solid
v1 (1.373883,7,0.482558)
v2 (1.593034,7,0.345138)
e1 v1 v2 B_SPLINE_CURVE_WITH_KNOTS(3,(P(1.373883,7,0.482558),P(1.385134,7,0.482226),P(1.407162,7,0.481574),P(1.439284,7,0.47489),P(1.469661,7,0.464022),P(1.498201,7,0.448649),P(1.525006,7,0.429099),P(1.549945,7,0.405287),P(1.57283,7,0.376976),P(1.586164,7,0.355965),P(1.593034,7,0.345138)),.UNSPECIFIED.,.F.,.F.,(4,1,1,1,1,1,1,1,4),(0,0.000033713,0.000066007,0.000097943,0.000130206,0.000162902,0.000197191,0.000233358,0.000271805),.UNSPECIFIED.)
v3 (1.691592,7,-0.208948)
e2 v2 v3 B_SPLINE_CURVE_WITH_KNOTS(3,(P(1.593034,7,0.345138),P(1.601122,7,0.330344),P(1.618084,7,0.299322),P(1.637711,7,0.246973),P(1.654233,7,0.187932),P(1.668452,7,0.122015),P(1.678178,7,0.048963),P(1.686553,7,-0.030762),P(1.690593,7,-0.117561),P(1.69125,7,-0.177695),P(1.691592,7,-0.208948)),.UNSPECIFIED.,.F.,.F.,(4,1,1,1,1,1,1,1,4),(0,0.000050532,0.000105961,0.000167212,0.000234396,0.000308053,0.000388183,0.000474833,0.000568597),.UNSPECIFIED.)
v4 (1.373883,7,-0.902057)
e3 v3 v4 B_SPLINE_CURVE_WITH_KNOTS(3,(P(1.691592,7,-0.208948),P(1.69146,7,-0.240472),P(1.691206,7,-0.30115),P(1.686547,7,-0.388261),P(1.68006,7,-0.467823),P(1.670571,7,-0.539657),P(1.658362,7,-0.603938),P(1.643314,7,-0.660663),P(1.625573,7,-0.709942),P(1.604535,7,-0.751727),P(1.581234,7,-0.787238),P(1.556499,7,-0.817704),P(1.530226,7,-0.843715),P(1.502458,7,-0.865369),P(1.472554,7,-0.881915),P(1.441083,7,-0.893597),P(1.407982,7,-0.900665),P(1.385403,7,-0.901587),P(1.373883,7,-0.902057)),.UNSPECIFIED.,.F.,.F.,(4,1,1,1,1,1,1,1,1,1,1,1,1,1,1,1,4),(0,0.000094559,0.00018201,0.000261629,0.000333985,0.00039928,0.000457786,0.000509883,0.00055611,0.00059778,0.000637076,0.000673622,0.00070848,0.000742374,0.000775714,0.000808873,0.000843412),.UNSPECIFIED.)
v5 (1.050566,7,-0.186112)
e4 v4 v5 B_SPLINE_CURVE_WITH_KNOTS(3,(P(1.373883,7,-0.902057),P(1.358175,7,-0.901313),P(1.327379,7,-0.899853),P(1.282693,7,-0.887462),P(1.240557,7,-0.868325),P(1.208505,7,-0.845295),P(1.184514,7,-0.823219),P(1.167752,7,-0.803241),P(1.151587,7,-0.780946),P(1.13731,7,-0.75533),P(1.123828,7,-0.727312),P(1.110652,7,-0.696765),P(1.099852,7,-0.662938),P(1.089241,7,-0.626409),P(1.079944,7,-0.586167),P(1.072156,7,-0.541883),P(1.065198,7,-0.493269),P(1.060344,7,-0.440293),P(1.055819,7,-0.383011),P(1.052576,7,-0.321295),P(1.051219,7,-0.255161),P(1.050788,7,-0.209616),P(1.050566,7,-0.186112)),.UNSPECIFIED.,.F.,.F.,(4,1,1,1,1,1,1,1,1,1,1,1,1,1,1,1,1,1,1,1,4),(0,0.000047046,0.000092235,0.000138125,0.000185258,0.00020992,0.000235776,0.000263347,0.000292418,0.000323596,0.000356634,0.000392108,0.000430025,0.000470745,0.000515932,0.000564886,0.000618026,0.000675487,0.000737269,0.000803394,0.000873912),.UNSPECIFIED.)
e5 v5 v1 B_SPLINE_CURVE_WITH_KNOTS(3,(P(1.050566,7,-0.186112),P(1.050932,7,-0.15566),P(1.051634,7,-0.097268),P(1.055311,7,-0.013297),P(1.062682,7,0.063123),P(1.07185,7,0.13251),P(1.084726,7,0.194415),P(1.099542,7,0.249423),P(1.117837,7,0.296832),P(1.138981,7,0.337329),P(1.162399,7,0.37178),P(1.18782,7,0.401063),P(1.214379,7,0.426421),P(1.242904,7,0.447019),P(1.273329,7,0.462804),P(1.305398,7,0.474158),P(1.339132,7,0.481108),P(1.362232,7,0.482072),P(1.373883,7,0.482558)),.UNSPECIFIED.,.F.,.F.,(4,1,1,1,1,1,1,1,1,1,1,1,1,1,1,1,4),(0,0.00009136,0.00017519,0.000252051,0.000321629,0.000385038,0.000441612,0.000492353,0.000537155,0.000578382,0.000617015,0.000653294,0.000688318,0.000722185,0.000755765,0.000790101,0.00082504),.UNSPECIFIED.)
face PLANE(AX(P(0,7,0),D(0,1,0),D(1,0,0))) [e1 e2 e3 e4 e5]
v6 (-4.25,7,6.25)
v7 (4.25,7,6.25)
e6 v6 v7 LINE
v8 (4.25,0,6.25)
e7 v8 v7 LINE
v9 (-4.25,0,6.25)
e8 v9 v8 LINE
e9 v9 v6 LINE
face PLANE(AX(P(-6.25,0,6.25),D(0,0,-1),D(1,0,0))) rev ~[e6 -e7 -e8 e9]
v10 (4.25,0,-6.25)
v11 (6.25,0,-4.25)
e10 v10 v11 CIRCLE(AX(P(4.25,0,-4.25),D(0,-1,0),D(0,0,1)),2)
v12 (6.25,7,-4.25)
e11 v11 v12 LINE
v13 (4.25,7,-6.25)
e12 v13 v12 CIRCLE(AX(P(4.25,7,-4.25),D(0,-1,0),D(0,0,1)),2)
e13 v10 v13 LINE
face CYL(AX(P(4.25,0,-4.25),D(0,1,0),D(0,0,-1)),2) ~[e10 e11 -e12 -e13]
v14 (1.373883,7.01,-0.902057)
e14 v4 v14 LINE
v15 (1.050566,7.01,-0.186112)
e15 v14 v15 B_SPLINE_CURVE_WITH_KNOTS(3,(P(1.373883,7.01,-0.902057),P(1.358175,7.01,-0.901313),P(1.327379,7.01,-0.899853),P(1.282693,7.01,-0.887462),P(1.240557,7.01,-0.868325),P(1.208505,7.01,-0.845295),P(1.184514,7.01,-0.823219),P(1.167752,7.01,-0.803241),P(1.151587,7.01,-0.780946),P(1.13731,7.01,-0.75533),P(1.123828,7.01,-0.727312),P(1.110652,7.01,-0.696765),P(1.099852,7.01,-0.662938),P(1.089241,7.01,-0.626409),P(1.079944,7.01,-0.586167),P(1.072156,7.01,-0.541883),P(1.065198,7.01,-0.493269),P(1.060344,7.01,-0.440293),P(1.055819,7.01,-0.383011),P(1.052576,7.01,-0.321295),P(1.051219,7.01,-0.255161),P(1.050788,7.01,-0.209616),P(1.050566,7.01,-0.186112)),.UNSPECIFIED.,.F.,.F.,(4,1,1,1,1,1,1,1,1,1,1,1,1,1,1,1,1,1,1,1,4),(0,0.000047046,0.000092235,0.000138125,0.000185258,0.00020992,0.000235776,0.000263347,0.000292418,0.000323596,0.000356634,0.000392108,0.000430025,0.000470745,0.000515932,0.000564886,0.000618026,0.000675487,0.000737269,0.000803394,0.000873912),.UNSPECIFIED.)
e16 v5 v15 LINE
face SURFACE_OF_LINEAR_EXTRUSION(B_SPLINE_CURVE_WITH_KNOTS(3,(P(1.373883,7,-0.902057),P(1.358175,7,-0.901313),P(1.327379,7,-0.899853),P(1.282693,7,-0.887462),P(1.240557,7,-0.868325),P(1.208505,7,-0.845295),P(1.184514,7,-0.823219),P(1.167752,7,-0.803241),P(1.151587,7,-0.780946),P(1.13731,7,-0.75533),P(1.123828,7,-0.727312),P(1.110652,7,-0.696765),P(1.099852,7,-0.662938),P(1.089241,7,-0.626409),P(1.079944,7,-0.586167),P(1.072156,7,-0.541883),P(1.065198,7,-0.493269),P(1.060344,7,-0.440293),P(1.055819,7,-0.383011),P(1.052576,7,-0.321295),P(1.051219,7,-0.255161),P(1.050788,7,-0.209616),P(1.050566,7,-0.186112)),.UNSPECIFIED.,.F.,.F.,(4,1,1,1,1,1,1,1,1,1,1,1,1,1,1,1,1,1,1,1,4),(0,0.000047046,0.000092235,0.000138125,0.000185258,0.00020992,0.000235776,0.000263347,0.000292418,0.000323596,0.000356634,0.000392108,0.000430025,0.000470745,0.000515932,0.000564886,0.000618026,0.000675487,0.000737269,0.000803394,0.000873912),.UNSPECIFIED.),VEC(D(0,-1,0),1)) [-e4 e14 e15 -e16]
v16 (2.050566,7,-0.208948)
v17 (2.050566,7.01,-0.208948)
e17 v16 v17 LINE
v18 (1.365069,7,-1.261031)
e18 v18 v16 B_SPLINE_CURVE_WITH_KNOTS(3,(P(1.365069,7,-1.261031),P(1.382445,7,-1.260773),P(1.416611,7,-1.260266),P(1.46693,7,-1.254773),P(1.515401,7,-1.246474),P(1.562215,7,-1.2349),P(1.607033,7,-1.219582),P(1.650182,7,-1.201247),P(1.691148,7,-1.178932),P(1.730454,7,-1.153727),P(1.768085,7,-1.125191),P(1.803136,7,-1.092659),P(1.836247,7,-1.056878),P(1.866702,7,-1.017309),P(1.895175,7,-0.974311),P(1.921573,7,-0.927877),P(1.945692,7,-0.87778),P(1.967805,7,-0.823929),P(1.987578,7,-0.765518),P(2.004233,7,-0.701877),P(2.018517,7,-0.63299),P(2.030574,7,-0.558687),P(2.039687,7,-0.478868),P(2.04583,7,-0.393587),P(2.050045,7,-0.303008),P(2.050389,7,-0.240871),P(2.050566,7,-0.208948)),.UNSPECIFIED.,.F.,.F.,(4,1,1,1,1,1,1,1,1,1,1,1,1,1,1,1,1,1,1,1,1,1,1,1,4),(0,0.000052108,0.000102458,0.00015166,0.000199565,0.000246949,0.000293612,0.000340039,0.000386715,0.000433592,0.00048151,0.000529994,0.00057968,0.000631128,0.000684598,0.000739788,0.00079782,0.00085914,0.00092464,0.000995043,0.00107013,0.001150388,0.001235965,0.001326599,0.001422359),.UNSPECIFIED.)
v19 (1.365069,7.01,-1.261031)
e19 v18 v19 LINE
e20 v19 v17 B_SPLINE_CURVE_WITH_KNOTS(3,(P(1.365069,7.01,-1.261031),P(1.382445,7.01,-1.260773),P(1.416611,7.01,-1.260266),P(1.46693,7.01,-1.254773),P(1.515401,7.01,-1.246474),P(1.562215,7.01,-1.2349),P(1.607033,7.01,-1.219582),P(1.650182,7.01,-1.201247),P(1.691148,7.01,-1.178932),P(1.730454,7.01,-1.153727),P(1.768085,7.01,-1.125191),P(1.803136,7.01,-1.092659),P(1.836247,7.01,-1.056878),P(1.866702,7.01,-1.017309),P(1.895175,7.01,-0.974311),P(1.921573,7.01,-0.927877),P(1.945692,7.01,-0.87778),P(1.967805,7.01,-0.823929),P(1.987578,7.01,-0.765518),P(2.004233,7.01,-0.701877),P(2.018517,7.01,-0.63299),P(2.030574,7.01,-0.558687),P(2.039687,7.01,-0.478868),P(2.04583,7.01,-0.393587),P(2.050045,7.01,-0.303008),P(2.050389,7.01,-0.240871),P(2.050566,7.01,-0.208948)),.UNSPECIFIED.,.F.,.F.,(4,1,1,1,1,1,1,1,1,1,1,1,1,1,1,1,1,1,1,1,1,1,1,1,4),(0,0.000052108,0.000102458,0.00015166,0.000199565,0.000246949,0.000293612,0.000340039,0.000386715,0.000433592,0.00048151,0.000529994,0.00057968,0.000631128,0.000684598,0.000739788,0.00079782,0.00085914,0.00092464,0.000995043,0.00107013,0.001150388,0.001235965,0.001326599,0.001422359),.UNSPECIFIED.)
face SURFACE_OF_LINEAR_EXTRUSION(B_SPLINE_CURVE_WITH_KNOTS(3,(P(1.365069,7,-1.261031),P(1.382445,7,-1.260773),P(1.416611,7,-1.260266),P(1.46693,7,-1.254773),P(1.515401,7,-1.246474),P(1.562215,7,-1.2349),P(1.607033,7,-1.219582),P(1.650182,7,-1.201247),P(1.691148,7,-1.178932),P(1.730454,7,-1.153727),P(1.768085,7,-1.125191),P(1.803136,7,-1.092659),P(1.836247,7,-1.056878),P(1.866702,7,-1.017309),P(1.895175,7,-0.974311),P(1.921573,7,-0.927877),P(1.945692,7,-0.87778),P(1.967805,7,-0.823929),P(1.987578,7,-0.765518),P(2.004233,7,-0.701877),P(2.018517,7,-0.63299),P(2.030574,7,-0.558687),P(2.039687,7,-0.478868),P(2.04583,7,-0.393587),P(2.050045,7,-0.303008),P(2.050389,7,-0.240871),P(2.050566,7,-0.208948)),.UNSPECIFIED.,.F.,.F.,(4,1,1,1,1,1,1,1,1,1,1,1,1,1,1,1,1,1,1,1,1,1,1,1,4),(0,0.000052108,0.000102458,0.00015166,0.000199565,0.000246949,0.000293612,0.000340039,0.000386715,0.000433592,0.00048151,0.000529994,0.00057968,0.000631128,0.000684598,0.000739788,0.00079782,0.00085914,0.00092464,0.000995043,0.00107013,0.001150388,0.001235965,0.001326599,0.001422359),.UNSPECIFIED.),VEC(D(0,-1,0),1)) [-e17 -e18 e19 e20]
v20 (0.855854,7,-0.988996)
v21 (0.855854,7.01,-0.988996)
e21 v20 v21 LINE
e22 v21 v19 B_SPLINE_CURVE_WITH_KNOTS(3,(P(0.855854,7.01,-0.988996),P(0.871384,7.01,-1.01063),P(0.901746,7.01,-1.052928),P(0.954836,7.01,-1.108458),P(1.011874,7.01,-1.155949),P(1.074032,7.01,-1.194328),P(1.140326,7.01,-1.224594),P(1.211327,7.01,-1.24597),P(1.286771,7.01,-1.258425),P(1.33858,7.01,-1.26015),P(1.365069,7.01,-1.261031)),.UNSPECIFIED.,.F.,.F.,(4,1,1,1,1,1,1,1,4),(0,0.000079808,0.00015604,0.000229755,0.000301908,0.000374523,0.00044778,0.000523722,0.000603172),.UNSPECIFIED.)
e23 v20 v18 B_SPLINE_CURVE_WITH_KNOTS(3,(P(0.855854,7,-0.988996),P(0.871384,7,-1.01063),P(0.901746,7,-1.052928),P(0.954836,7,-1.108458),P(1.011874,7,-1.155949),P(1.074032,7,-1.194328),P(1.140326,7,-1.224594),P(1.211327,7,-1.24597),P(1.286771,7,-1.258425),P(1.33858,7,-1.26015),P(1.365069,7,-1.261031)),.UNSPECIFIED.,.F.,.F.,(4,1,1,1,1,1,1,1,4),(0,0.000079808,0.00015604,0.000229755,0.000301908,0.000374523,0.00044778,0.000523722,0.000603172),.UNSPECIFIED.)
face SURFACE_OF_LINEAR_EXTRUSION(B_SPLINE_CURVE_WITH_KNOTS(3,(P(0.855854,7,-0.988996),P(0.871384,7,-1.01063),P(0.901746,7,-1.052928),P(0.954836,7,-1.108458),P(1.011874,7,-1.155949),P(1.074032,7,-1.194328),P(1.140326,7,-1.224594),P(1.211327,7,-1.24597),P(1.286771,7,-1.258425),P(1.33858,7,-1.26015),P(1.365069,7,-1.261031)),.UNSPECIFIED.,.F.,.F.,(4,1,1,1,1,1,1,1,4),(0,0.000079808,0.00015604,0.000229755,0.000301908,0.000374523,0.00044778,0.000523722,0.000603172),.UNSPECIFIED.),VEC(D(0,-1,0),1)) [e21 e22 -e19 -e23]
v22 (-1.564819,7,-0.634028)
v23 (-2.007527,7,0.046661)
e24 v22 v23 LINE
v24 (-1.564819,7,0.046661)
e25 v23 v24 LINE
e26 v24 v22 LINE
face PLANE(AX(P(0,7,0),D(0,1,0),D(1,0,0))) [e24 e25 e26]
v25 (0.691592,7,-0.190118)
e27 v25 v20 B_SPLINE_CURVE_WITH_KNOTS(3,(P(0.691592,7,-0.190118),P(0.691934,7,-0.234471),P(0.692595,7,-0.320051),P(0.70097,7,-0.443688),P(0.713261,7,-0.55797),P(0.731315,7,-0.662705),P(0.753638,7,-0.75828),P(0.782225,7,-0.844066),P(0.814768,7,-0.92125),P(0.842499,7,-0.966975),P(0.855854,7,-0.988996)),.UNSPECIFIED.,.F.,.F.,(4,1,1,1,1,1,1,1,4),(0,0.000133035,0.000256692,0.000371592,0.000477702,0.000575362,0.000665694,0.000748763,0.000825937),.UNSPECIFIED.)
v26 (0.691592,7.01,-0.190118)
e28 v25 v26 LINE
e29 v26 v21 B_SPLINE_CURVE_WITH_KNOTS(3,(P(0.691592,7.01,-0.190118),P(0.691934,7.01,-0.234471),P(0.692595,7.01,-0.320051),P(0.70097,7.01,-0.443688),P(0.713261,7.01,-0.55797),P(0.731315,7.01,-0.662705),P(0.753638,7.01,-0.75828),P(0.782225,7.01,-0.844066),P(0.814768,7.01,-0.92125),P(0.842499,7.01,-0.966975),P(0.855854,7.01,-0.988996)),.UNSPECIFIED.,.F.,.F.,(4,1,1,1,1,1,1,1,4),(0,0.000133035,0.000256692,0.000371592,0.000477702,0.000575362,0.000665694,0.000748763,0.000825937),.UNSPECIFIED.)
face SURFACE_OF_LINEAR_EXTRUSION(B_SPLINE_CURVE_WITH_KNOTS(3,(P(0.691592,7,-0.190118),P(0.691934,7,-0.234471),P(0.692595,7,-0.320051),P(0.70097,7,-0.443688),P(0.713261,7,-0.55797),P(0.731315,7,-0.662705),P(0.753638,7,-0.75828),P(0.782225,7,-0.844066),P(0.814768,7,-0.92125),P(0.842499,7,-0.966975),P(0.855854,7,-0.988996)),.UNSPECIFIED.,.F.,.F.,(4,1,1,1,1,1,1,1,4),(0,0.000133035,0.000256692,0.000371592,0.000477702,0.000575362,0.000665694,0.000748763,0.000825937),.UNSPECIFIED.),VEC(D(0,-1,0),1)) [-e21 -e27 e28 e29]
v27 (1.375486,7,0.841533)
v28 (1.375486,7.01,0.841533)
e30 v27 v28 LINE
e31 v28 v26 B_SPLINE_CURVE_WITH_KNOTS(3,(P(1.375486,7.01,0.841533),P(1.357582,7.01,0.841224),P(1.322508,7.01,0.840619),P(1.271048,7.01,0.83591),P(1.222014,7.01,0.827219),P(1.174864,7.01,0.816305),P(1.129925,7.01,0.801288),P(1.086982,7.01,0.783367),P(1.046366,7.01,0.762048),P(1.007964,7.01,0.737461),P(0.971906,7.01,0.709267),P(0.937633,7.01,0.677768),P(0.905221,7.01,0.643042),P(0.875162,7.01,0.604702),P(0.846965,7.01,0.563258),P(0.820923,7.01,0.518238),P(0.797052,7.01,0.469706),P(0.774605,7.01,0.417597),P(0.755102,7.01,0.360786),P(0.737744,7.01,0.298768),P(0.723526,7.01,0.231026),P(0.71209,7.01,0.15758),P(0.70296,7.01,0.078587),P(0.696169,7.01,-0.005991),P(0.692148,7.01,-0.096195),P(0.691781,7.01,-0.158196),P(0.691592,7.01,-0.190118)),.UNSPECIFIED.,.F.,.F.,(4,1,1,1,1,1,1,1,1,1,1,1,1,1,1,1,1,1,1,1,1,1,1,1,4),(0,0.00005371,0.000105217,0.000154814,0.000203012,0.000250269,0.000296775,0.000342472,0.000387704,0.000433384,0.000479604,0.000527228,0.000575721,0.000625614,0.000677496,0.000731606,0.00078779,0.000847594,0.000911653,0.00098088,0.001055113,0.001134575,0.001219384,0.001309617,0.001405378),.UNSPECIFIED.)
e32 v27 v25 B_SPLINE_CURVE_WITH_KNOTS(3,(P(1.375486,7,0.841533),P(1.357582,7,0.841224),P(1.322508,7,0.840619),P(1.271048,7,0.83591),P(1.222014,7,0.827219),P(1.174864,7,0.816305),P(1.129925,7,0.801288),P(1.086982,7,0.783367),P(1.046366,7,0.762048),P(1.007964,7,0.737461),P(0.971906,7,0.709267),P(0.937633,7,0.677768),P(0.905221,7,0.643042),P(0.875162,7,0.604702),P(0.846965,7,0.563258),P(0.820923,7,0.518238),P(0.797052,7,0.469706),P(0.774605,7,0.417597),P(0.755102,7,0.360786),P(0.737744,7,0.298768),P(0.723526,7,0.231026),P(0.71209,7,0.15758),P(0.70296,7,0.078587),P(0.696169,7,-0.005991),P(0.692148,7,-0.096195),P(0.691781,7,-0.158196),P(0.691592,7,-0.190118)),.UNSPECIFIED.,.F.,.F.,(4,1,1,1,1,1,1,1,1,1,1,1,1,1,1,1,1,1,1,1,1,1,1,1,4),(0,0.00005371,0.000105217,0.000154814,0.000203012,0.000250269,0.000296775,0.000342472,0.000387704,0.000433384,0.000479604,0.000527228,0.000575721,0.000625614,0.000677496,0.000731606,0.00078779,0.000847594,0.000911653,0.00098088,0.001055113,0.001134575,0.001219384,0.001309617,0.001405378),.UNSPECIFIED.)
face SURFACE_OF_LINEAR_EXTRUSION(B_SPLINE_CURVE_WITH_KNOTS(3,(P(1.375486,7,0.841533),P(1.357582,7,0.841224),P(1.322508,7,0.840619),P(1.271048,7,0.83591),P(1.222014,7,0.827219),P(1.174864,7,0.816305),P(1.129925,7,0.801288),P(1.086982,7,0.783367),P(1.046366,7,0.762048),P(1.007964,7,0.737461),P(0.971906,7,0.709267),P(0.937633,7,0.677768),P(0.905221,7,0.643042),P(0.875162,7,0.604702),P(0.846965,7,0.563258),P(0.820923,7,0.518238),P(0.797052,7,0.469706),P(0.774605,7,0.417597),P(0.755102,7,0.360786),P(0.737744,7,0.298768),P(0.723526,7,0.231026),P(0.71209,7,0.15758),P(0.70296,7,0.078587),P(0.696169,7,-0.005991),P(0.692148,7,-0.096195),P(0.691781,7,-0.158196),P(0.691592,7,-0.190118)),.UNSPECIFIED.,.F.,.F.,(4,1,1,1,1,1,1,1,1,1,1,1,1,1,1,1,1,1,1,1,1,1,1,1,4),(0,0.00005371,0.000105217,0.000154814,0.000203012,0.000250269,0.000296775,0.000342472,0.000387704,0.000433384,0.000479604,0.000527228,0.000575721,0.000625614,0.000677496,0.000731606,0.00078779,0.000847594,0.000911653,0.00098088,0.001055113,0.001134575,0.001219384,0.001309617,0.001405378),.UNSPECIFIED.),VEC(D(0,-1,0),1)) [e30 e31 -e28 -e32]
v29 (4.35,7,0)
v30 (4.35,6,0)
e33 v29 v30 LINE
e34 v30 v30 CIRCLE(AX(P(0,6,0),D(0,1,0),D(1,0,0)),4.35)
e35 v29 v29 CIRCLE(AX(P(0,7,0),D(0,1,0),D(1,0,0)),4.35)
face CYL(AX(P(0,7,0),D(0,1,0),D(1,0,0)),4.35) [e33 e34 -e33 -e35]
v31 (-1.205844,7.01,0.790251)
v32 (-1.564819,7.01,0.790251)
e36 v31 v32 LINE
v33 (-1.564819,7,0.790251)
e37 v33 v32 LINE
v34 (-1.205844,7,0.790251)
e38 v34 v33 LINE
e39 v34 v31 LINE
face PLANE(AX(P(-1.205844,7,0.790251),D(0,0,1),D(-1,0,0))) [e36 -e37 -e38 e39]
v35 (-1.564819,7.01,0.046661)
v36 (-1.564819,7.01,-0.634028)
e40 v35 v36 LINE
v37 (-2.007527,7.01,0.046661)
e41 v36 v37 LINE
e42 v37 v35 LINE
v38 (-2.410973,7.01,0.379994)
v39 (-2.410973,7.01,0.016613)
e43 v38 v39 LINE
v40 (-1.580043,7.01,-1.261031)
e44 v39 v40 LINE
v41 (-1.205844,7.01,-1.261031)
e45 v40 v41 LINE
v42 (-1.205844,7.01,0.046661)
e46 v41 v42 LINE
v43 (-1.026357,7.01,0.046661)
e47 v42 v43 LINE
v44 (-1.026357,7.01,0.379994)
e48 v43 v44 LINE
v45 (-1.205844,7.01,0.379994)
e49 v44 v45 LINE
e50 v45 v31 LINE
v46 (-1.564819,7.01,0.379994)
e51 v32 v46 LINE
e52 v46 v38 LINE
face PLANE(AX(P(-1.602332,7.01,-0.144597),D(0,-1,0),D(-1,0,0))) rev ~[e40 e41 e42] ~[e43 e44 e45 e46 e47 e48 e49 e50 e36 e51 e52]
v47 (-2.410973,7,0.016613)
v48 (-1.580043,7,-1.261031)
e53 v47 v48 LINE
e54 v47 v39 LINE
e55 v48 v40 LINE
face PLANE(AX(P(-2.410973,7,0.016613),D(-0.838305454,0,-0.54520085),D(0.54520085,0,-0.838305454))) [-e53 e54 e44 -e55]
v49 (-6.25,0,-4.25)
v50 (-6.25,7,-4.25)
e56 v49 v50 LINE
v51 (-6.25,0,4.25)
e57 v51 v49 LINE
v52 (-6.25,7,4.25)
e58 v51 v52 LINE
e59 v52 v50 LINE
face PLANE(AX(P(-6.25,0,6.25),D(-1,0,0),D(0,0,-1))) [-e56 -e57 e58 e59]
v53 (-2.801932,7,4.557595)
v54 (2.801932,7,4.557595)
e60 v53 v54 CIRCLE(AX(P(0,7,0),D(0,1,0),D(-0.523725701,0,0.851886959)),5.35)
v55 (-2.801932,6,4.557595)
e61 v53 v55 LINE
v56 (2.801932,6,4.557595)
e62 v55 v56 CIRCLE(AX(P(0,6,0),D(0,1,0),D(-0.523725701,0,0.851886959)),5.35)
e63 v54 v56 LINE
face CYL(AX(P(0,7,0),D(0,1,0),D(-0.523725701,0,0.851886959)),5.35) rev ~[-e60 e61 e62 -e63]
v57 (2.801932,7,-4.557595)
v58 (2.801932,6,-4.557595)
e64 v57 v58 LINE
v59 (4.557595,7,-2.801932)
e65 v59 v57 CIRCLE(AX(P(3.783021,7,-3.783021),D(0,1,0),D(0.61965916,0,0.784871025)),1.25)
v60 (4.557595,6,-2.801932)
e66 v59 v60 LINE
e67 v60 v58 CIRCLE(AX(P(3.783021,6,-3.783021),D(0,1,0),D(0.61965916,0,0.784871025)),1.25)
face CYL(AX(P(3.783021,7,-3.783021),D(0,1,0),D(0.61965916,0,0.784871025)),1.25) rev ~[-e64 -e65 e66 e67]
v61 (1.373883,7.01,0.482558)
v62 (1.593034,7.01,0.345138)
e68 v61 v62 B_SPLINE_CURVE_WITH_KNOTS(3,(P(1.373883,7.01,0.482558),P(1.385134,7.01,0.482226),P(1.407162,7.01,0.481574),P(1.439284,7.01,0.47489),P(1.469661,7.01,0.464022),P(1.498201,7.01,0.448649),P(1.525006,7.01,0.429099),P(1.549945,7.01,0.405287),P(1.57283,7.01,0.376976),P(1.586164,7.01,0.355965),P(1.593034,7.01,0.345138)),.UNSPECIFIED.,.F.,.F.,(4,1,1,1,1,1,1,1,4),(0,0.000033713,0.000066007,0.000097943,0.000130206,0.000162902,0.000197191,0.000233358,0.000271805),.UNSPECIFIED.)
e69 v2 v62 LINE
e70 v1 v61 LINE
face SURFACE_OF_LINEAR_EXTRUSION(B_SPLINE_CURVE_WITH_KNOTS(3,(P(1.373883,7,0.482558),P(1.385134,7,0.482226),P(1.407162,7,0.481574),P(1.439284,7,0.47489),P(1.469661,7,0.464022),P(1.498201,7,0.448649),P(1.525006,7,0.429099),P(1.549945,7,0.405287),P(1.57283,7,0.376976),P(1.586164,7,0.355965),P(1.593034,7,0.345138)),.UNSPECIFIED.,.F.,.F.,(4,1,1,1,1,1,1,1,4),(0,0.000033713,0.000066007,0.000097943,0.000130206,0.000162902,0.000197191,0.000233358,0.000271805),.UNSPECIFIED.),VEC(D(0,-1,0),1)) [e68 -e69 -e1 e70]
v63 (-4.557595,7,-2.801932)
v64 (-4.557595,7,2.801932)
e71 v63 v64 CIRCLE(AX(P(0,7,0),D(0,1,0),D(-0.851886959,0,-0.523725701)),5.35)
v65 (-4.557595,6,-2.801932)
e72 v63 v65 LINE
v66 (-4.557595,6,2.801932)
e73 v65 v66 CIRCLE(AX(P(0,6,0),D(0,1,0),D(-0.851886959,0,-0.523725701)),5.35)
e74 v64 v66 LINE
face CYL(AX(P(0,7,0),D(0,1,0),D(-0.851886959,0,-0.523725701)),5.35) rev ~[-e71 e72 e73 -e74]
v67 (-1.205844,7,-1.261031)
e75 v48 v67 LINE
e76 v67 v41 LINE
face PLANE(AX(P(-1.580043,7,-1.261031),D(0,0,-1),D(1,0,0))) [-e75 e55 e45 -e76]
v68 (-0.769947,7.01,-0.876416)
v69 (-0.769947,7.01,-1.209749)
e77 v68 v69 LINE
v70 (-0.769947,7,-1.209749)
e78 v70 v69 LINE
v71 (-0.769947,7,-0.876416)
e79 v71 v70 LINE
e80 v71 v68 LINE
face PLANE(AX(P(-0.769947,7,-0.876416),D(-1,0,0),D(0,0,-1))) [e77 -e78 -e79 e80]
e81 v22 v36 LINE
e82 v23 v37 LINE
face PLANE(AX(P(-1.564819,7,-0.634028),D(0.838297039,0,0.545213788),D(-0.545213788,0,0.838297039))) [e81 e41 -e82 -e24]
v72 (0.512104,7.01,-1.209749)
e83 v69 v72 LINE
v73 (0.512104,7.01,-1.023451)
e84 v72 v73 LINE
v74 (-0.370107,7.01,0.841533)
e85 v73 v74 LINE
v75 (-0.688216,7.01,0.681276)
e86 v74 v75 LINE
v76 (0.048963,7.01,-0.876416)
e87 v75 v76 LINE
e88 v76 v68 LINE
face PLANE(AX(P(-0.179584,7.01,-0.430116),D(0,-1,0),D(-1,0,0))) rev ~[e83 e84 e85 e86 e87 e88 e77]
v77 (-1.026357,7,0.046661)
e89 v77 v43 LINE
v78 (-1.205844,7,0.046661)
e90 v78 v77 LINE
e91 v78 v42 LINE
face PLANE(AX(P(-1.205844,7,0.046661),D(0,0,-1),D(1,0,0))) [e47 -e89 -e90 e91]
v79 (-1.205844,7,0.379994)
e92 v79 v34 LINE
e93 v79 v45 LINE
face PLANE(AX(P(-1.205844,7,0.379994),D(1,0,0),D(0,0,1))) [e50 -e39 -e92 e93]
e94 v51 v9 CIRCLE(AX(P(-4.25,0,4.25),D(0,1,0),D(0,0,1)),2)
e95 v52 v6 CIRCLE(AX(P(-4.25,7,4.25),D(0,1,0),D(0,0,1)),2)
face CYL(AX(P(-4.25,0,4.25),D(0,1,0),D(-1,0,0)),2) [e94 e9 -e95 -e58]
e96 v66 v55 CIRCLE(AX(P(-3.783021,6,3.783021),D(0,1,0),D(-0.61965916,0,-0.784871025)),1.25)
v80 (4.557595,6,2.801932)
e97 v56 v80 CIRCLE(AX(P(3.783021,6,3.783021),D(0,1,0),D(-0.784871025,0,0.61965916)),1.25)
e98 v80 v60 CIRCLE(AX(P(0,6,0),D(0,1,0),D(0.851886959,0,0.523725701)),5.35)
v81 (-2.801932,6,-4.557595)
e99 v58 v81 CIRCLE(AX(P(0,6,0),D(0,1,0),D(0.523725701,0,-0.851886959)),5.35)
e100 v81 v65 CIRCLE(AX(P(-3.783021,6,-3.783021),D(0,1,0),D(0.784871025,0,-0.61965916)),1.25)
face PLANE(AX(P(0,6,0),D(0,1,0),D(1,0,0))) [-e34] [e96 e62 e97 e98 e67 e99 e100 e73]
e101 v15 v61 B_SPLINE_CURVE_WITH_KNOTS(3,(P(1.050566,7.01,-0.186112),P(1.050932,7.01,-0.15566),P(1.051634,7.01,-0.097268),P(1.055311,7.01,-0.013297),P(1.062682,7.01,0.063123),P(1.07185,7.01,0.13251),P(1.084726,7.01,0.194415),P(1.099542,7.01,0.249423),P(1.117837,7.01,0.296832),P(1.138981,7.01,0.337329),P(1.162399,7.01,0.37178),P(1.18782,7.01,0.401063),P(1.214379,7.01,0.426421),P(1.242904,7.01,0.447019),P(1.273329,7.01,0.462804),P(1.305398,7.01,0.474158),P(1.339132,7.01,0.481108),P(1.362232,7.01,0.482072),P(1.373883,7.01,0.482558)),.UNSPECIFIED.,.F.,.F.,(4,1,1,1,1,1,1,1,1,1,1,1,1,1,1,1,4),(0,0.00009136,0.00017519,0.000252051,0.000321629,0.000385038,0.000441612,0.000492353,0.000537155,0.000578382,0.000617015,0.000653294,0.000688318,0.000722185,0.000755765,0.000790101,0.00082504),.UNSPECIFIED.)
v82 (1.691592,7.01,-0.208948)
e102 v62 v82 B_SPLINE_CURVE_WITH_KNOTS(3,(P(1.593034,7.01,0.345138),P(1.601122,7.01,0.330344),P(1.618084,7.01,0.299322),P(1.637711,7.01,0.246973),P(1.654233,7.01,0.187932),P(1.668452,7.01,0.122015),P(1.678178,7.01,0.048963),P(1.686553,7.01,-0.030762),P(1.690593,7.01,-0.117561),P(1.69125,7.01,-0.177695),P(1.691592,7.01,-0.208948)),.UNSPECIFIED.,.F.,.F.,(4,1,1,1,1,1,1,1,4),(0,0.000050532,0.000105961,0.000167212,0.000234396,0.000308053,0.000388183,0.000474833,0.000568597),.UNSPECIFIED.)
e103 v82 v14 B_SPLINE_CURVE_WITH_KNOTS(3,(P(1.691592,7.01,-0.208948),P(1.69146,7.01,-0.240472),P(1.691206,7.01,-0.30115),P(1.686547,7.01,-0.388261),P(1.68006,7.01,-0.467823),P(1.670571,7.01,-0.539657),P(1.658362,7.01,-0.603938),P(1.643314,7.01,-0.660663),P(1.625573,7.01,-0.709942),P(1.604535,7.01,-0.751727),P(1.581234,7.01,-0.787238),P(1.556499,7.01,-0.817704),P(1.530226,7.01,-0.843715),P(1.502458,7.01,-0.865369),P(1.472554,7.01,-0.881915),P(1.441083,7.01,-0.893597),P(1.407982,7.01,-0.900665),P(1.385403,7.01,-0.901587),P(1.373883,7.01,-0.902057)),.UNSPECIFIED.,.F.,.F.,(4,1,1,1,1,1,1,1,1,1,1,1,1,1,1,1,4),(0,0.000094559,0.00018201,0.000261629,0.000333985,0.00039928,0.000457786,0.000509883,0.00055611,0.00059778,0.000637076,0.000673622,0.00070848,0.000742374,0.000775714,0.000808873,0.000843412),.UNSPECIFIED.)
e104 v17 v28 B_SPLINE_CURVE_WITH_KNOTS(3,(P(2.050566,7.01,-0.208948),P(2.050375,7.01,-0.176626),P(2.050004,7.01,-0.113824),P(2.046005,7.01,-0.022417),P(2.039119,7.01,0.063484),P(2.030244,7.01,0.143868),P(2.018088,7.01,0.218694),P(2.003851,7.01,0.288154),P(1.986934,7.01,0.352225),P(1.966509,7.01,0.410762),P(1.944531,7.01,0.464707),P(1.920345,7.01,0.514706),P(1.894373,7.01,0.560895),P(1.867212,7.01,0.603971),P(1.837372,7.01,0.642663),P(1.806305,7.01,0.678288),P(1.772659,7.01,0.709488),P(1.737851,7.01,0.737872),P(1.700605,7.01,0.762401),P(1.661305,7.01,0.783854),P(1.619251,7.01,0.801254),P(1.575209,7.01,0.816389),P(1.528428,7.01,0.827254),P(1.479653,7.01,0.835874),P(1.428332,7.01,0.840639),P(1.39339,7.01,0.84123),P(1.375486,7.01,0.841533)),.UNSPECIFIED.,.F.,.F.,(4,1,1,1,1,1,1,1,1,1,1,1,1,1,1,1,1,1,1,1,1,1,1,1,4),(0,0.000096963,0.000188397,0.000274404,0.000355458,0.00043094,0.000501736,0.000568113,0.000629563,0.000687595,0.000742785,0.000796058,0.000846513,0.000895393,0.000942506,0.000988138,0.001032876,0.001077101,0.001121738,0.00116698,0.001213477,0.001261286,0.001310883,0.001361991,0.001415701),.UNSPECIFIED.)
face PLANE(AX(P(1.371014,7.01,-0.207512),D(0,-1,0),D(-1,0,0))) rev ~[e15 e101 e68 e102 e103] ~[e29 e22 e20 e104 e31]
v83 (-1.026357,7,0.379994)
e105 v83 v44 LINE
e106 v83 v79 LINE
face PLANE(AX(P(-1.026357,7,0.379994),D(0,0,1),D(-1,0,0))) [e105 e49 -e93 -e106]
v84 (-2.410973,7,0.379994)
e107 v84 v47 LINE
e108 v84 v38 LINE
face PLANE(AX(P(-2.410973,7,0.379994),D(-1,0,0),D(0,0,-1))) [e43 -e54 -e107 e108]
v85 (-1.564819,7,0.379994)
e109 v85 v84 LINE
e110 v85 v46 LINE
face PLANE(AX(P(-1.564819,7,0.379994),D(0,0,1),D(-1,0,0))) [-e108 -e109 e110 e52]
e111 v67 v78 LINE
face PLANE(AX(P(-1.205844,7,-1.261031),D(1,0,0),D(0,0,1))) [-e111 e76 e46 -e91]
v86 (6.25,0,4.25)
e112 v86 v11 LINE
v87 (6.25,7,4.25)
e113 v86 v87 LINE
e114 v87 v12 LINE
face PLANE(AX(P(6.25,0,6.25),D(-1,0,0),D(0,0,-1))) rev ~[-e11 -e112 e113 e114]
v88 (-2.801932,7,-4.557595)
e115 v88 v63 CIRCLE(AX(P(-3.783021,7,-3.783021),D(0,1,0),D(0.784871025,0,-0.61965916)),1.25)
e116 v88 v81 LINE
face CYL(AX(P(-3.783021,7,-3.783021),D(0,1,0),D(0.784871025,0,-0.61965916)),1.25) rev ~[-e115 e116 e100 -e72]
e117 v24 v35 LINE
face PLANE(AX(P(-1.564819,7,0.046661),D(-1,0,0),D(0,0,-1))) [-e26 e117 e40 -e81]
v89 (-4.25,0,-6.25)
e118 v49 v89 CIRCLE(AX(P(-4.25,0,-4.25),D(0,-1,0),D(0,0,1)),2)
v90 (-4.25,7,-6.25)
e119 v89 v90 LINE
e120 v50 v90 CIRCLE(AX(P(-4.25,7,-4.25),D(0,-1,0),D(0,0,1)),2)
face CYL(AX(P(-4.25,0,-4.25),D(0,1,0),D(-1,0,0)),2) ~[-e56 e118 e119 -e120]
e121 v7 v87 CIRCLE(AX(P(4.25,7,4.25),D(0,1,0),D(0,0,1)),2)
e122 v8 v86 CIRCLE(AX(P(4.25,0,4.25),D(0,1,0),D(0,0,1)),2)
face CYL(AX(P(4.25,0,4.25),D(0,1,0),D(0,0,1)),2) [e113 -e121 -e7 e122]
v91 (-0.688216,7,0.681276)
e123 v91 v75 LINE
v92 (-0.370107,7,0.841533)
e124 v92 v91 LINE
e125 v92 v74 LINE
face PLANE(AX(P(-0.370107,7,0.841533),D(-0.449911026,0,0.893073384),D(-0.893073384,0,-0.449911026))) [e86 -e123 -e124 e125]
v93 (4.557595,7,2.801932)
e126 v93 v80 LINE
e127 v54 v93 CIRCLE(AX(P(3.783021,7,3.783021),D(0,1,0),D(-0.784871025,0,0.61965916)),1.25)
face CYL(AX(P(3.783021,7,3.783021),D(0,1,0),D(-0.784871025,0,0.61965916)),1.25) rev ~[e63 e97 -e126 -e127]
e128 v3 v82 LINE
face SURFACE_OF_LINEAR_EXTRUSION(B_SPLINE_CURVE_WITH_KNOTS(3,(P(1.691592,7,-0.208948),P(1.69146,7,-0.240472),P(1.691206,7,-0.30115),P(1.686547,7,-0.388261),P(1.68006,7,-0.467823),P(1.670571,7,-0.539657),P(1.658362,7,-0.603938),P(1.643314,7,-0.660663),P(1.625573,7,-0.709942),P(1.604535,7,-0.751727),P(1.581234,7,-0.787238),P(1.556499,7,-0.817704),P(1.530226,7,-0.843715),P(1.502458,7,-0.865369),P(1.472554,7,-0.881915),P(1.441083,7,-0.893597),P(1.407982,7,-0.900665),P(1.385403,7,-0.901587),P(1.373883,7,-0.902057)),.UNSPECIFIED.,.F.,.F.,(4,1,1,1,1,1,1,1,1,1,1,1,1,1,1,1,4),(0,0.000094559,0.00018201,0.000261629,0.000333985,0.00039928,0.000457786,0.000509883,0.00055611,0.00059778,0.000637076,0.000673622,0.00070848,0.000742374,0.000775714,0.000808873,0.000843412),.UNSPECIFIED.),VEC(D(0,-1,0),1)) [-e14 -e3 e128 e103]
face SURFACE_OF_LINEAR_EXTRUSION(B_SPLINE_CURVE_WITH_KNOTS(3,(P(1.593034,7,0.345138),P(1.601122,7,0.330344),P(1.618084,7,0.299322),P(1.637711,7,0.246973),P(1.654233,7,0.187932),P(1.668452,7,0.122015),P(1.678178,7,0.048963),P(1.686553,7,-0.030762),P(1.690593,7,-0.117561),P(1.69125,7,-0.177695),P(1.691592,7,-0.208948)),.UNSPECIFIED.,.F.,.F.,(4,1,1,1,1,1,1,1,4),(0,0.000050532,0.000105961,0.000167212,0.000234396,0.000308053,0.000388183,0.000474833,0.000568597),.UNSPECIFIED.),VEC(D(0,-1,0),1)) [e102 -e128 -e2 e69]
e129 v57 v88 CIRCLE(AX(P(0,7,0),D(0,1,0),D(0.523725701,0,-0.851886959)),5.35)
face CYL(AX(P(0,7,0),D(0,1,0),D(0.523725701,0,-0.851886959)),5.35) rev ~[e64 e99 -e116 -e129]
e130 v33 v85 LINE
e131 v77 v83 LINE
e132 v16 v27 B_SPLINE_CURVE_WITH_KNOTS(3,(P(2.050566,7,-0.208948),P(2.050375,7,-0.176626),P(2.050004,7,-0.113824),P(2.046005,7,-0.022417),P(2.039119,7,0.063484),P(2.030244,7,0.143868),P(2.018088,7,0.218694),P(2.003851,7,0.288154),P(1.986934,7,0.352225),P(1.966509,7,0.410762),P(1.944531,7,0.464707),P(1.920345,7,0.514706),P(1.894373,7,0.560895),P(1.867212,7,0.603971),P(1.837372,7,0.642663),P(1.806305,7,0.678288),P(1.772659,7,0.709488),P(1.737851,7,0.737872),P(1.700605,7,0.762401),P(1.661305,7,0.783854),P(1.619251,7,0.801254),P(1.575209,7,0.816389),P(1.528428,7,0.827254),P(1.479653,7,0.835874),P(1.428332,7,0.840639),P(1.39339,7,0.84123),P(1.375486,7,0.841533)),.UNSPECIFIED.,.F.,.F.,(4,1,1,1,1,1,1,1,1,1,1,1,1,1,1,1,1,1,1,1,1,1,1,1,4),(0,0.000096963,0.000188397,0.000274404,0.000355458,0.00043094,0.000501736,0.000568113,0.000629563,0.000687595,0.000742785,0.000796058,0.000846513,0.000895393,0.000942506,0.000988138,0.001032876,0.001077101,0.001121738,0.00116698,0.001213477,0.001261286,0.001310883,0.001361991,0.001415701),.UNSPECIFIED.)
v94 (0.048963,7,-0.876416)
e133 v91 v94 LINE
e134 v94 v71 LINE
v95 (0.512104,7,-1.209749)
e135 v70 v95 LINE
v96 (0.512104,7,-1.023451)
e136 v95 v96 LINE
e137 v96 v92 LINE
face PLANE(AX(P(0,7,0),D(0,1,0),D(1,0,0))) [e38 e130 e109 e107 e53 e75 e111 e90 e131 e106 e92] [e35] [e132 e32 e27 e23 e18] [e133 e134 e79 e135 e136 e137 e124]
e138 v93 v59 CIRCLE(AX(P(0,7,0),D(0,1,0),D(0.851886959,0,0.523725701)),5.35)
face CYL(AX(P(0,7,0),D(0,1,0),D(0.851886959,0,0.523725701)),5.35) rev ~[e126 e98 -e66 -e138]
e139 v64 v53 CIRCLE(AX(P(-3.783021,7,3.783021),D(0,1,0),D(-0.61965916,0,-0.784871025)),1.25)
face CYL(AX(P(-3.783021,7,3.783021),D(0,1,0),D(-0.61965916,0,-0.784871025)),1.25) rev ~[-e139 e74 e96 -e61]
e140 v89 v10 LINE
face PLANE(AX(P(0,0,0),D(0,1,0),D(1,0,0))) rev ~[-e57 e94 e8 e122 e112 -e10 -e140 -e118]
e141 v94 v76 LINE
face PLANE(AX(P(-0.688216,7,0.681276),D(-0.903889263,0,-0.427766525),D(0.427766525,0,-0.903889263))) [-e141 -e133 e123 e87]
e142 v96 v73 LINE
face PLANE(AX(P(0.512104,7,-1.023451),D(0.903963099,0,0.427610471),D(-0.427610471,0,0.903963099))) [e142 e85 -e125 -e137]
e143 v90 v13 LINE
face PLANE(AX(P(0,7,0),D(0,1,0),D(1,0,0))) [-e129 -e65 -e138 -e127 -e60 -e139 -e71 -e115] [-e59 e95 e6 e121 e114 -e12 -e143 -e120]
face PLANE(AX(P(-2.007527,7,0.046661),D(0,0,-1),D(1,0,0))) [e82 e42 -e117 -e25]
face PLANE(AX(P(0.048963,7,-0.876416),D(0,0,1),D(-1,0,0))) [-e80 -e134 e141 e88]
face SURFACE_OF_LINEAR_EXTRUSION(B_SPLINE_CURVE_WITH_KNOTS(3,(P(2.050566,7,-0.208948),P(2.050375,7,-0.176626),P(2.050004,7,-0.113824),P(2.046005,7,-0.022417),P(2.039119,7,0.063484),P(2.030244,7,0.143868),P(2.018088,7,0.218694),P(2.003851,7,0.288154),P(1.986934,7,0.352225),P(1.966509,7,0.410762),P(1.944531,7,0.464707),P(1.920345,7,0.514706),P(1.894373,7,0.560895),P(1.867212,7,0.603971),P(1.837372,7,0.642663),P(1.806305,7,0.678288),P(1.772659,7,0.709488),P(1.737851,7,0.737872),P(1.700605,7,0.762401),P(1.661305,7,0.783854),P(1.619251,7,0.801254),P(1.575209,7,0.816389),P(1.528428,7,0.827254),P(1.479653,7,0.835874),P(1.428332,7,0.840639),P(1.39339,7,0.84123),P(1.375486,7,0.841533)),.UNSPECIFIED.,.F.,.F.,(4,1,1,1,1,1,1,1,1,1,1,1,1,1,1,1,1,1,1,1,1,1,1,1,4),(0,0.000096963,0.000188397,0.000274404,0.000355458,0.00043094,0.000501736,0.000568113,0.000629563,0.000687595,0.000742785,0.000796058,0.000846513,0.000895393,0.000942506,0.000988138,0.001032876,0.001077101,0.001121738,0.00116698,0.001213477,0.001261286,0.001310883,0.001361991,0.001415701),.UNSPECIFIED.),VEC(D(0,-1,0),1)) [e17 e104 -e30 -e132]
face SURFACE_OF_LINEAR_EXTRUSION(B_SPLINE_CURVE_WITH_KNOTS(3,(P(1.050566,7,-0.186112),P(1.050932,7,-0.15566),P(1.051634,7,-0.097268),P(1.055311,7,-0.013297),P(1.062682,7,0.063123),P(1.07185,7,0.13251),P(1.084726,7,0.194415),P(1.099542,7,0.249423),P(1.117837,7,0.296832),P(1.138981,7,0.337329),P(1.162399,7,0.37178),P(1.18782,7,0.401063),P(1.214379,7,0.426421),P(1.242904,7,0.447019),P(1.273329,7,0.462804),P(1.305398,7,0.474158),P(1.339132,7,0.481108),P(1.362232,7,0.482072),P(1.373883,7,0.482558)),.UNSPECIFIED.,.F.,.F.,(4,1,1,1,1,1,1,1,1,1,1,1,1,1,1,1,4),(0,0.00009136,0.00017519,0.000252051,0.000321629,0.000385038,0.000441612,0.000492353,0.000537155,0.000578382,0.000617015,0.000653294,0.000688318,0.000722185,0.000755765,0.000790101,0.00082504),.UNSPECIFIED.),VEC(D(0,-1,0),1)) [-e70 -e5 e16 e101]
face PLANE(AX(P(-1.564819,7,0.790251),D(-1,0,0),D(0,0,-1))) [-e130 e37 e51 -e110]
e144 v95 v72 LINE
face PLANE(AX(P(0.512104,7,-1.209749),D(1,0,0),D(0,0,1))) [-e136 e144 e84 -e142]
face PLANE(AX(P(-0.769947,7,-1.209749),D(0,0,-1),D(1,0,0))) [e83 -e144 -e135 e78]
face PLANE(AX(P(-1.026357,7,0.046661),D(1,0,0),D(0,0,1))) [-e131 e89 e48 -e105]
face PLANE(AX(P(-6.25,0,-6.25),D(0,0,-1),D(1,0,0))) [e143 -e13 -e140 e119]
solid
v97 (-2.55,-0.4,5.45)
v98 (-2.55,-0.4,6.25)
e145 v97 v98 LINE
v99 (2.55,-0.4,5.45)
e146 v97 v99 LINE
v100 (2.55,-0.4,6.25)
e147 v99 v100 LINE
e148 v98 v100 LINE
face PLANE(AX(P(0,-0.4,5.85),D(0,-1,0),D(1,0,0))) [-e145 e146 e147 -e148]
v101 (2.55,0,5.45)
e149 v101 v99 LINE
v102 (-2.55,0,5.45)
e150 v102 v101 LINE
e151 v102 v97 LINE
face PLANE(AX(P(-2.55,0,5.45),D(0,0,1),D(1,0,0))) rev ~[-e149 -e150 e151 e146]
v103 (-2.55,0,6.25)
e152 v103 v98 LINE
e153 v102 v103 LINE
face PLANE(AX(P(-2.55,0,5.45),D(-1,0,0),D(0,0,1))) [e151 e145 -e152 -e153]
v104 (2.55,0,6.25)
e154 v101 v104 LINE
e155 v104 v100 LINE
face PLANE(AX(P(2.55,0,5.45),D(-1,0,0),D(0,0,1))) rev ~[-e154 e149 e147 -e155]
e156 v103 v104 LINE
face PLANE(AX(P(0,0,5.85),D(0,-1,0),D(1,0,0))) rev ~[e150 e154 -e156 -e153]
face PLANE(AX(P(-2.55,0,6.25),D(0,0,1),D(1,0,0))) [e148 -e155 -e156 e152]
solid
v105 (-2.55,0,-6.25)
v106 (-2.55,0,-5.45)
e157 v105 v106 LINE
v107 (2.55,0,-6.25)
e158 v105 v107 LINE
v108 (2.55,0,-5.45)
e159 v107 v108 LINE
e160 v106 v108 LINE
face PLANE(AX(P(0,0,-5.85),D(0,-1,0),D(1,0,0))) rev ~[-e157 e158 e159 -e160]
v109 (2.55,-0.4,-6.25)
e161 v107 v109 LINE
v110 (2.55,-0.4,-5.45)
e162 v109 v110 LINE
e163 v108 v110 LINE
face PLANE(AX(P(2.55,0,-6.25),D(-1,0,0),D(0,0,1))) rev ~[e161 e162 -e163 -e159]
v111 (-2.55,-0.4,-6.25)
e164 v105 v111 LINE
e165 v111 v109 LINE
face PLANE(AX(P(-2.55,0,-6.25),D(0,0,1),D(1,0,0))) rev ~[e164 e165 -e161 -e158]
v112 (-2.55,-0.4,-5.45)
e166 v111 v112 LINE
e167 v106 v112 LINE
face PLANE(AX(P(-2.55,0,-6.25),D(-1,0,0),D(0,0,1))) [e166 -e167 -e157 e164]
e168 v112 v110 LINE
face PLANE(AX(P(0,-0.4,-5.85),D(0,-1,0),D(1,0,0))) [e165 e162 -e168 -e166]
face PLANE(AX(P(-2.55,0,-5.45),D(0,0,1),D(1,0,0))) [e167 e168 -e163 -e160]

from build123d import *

# Parameters (mm, degrees)
SKETCH1_W             = 12.5
SKETCH1_H             = 12.5
BOSS_EXTRUDE1_DEPTH   = 7
SKETCH2_R             = 4.35
CUT_EXTRUDE1_DEPTH    = 1
SKETCH3_W             = 5.1
SKETCH3_H             = 0.8
BOSS_EXTRUDE2_DEPTH   = 0.4
BOSS_EXTRUDE2_2_DEPTH = 0.4
BOSS_EXTRUDE3_DEPTH   = 0.01
FILLET1_R             = 2


with BuildPart() as part:
    # Sketch1 → Boss-Extrude1 (new body)
    with BuildSketch(Plane(origin=(0, 0, 0), x_dir=(1, 0, 0), z_dir=(0, 1, 0))):
        Rectangle(SKETCH1_W, SKETCH1_H)
    extrude(amount=BOSS_EXTRUDE1_DEPTH)

    # Sketch2 → Cut-Extrude1 (cut)
    with BuildSketch(Plane(origin=(0, 7, 0), x_dir=(1, 0, 0), z_dir=(0, 1, 0))):
        with BuildLine():
            ThreePointArc((-4.557595229, 2.801932498), (-5.35, 0), (-4.557595229, -2.801932498))
            ThreePointArc((-4.557595229, -2.801932498), (-4.666904756, -4.666904756), (-2.801932498, -4.557595229))
            ThreePointArc((-2.801932498, -4.557595229), (0, -5.35), (2.801932498, -4.557595229))
            ThreePointArc((2.801932498, -4.557595229), (4.666904756, -4.666904756), (4.557595229, -2.801932498))
            ThreePointArc((4.557595229, -2.801932498), (5.35, 0), (4.557595229, 2.801932498))
            ThreePointArc((4.557595229, 2.801932498), (4.666904756, 4.666904756), (2.801932498, 4.557595229))
            ThreePointArc((2.801932498, 4.557595229), (0, 5.35), (-2.801932498, 4.557595229))
            ThreePointArc((-2.801932498, 4.557595229), (-4.666904756, 4.666904756), (-4.557595229, 2.801932498))
        make_face()
        Circle(SKETCH2_R, mode=Mode.SUBTRACT)
    extrude(amount=-CUT_EXTRUDE1_DEPTH, mode=Mode.SUBTRACT)

    # Sketch4 → Boss-Extrude3 (add)
    with BuildSketch(Plane(origin=(0, 7, 0), x_dir=(1, 0, 0), z_dir=(0, 1, 0))):
        Polygon((-1.580043076, 1.261031415), (-1.205844358, 1.261031415), (-1.205844358, -0.046660893), (-1.026357178, -0.046660893), (-1.026357178, -0.379994226), (-1.205844358, -0.379994226), (-1.205844358, -0.790250636), (-1.564818717, -0.790250636), (-1.564818717, -0.379994226), (-2.410972563, -0.379994226), (-2.410972563, -0.016612816), align=None)
        Polygon((-1.564818717, -0.046660893), (-1.564818717, 0.63402821), (-2.00752705, -0.046660893), align=None, mode=Mode.SUBTRACT)
        Polygon((-0.769946922, 1.209749364), (0.51210436, 1.209749364), (0.51210436, 1.023451287), (-0.370107178, -0.841532688), (-0.688216153, -0.681276277), (0.048963335, 0.87641603), (-0.769946922, 0.87641603), align=None)
        with BuildLine():
            add(Edge.make_bspline(
                [(1.365069104, 1.261031415), (1.382444953, 1.260773466), (1.416610514, 1.260266268), (1.466929955, 1.254772907), (1.515401489, 1.246473971), (1.562214743, 1.234899849), (1.60703275, 1.219581911), (1.650181705, 1.201246601), (1.69114801, 1.178932195), (1.730454117, 1.153726928), (1.768084886, 1.125190993), (1.803135886, 1.092658553), (1.836247224, 1.056878181), (1.866702161, 1.017308943), (1.895175131, 0.974310762), (1.921572577, 0.927876821), (1.945692419, 0.877779856), (1.967804983, 0.823929463), (1.987578108, 0.765518449), (2.004232987, 0.701876813), (2.018517333, 0.632990023), (2.030574328, 0.558686607), (2.039687468, 0.4788678), (2.045829907, 0.393586629), (2.05004514, 0.303007503), (2.050389158, 0.240870967), (2.050565899, 0.208948082)],
                knots=[0, 0, 0, 0, 5.2108e-05, 0.000102458, 0.00015166, 0.000199565, 0.000246949, 0.000293612, 0.000340039, 0.000386715, 0.000433592, 0.00048151, 0.000529994, 0.00057968, 0.000631128, 0.000684598, 0.000739788, 0.00079782, 0.00085914, 0.00092464, 0.000995043, 0.00107013, 0.001150388, 0.001235965, 0.001326599, 0.001422359, 0.001422359, 0.001422359, 0.001422359], degree=3))
            add(Edge.make_bspline(
                [(2.050565899, 0.208948082), (2.05037489, 0.176625805), (2.050003763, 0.113824201), (2.046005136, 0.022416592), (2.03911931, -0.063483771), (2.030244362, -0.143868003), (2.018088109, -0.218693654), (2.003851448, -0.288154471), (1.986933677, -0.352225278), (1.966509232, -0.410761708), (1.944530515, -0.464706674), (1.920344695, -0.514705961), (1.894373327, -0.560894997), (1.867212115, -0.603970605), (1.837371983, -0.642662938), (1.806305333, -0.678287739), (1.772659469, -0.709488012), (1.737851011, -0.737871679), (1.700604784, -0.762400864), (1.6613049, -0.783853685), (1.619250709, -0.80125447), (1.575208788, -0.816388744), (1.528428433, -0.827253519), (1.479652978, -0.835874362), (1.428331758, -0.840638768), (1.393390204, -0.841229824), (1.37548577, -0.841532688)],
                knots=[0, 0, 0, 0, 9.6963e-05, 0.000188397, 0.000274404, 0.000355458, 0.00043094, 0.000501736, 0.000568113, 0.000629563, 0.000687595, 0.000742785, 0.000796058, 0.000846513, 0.000895393, 0.000942506, 0.000988138, 0.001032876, 0.001077101, 0.001121738, 0.00116698, 0.001213477, 0.001261286, 0.001310883, 0.001361991, 0.001415701, 0.001415701, 0.001415701, 0.001415701], degree=3))
            add(Edge.make_bspline(
                [(1.37548577, -0.841532688), (1.35758182, -0.841223982), (1.322508245, -0.840619232), (1.271048247, -0.835909787), (1.222014307, -0.827218596), (1.174863844, -0.816305332), (1.129925019, -0.801287956), (1.086982352, -0.783366552), (1.046366033, -0.762047586), (1.007963604, -0.73746125), (0.971906181, -0.709267491), (0.937633432, -0.677767872), (0.905221169, -0.643042236), (0.875162465, -0.604701628), (0.846965044, -0.563257814), (0.820922961, -0.518237527), (0.797051866, -0.469706315), (0.774605068, -0.417596531), (0.755101642, -0.36078631), (0.737744498, -0.298768345), (0.723525982, -0.231025665), (0.7120905, -0.157580032), (0.702960418, -0.078587045), (0.696168686, 0.005991424), (0.692147848, 0.09619477), (0.691780614, 0.158196023), (0.69159154, 0.190117953)],
                knots=[0, 0, 0, 0, 5.371e-05, 0.000105217, 0.000154814, 0.000203012, 0.000250269, 0.000296775, 0.000342472, 0.000387704, 0.000433384, 0.000479604, 0.000527228, 0.000575721, 0.000625614, 0.000677496, 0.000731606, 0.00078779, 0.000847594, 0.000911653, 0.00098088, 0.001055113, 0.001134575, 0.001219384, 0.001309617, 0.001405378, 0.001405378, 0.001405378, 0.001405378], degree=3))
            add(Edge.make_bspline(
                [(0.69159154, 0.190117953), (0.69193403, 0.234470962), (0.692594869, 0.320050664), (0.700969509, 0.443688451), (0.713261357, 0.557970167), (0.73131517, 0.662704649), (0.753638459, 0.758279801), (0.782224594, 0.844066025), (0.814767829, 0.921250365), (0.842498846, 0.966974833), (0.85585436, 0.988996159)],
                knots=[0, 0, 0, 0, 0.000133035, 0.000256692, 0.000371592, 0.000477702, 0.000575362, 0.000665694, 0.000748763, 0.000825937, 0.000825937, 0.000825937, 0.000825937], degree=3))
            add(Edge.make_bspline(
                [(0.85585436, 0.988996159), (0.871383516, 1.010629902), (0.901746074, 1.052928134), (0.954835857, 1.108457806), (1.011873916, 1.1559495), (1.074031782, 1.194328438), (1.1403264, 1.224594071), (1.211326945, 1.245970347), (1.286771223, 1.258425162), (1.338580067, 1.260149691), (1.365069104, 1.261031415)],
                knots=[0, 0, 0, 0, 7.9808e-05, 0.00015604, 0.000229755, 0.000301908, 0.000374523, 0.00044778, 0.000523722, 0.000603172, 0.000603172, 0.000603172, 0.000603172], degree=3))
        make_face()
        with BuildLine():
            add(Edge.make_bspline(
                [(1.373883206, 0.902057056), (1.358175295, 0.901312532), (1.32737945, 0.89985287), (1.282693212, 0.887462401), (1.24055688, 0.868324653), (1.208504897, 0.845295365), (1.184514307, 0.823219031), (1.167751909, 0.803240667), (1.151587219, 0.780946252), (1.13730975, 0.755329755), (1.123828093, 0.727311606), (1.11065245, 0.69676462), (1.099851883, 0.662938496), (1.089240611, 0.626409298), (1.079944148, 0.586167091), (1.072155749, 0.541882939), (1.0651975, 0.493268857), (1.060344038, 0.440293005), (1.055819155, 0.383010807), (1.052575504, 0.321294661), (1.051219416, 0.255161217), (1.050788356, 0.209616096), (1.050565899, 0.186111543)],
                knots=[0, 0, 0, 0, 4.7046e-05, 9.2235e-05, 0.000138125, 0.000185258, 0.00020992, 0.000235776, 0.000263347, 0.000292418, 0.000323596, 0.000356634, 0.000392108, 0.000430025, 0.000470745, 0.000515932, 0.000564886, 0.000618026, 0.000675487, 0.000737269, 0.000803394, 0.000873912, 0.000873912, 0.000873912, 0.000873912], degree=3))
            add(Edge.make_bspline(
                [(1.050565899, 0.186111543), (1.050932037, 0.155660259), (1.051634134, 0.097267664), (1.055311391, 0.01329708), (1.062682146, -0.063122914), (1.071849878, -0.132510242), (1.084726332, -0.194414911), (1.099541526, -0.249422596), (1.117836973, -0.296832082), (1.138980887, -0.337329017), (1.162398725, -0.371779676), (1.187819818, -0.40106289), (1.214378669, -0.426420773), (1.242904267, -0.447018668), (1.273328557, -0.462803946), (1.305397553, -0.474158101), (1.339131634, -0.481108452), (1.362232385, -0.482072243), (1.373883206, -0.482558329)],
                knots=[0, 0, 0, 0, 9.136e-05, 0.00017519, 0.000252051, 0.000321629, 0.000385038, 0.000441612, 0.000492353, 0.000537155, 0.000578382, 0.000617015, 0.000653294, 0.000688318, 0.000722185, 0.000755765, 0.000790101, 0.00082504, 0.00082504, 0.00082504, 0.00082504], degree=3))
            add(Edge.make_bspline(
                [(1.373883206, -0.482558329), (1.385134208, -0.482225713), (1.407162271, -0.481574492), (1.43928412, -0.474889797), (1.469660823, -0.464021935), (1.498200663, -0.448648582), (1.525005723, -0.429099011), (1.549944996, -0.405287313), (1.572830397, -0.376976142), (1.586163535, -0.355965065), (1.593033847, -0.345138457)],
                knots=[0, 0, 0, 0, 3.3713e-05, 6.6007e-05, 9.7943e-05, 0.000130206, 0.000162902, 0.000197191, 0.000233358, 0.000271805, 0.000271805, 0.000271805, 0.000271805], degree=3))
            add(Edge.make_bspline(
                [(1.593033847, -0.345138457), (1.601122483, -0.330344242), (1.618083697, -0.299321975), (1.637711243, -0.246973055), (1.654232618, -0.187932125), (1.668452323, -0.122015445), (1.678177734, -0.048963031), (1.686553246, 0.030761886), (1.690592963, 0.117560768), (1.691250045, 0.177695347), (1.69159154, 0.208948082)],
                knots=[0, 0, 0, 0, 5.0532e-05, 0.000105961, 0.000167212, 0.000234396, 0.000308053, 0.000388183, 0.000474833, 0.000568597, 0.000568597, 0.000568597, 0.000568597], degree=3))
            add(Edge.make_bspline(
                [(1.69159154, 0.208948082), (1.691459628, 0.240472105), (1.69120572, 0.30115047), (1.686547248, 0.3882614), (1.680059969, 0.467822777), (1.670570952, 0.539656973), (1.658361608, 0.60393837), (1.643313545, 0.660662766), (1.625572998, 0.709941954), (1.604534824, 0.751726795), (1.581233739, 0.787238178), (1.556498926, 0.817704191), (1.530225796, 0.843715303), (1.502458286, 0.865369401), (1.472553708, 0.881914755), (1.441083278, 0.893597144), (1.40798248, 0.900664598), (1.385403049, 0.901586638), (1.373883206, 0.902057056)],
                knots=[0, 0, 0, 0, 9.4559e-05, 0.00018201, 0.000261629, 0.000333985, 0.00039928, 0.000457786, 0.000509883, 0.00055611, 0.00059778, 0.000637076, 0.000673622, 0.00070848, 0.000742374, 0.000775714, 0.000808873, 0.000843412, 0.000843412, 0.000843412, 0.000843412], degree=3))
        make_face(mode=Mode.SUBTRACT)
    extrude(amount=BOSS_EXTRUDE3_DEPTH)

    # Fillet1
    fillet1_edges = [part.edges().sort_by_distance(p)[0] for p in [
        (6.25, 3.5, 6.25),
        (-6.25, 3.5, 6.25),
        (-6.25, 3.5, -6.25),
        (6.25, 3.5, -6.25),
    ]]
    fillet(fillet1_edges, radius=FILLET1_R)


with BuildPart() as body_2:
    # Sketch3 → Boss-Extrude2 (new body)
    with BuildSketch(Plane.XZ):
        with Locations((0, 5.85)):
            Rectangle(SKETCH3_W, SKETCH3_H)
    extrude(amount=BOSS_EXTRUDE2_DEPTH)


with BuildPart() as body_3:
    # Sketch3 → Boss-Extrude2 2 (new body)
    with BuildSketch(Plane.XZ):
        with Locations((0, -5.85)):
            Rectangle(SKETCH3_W, SKETCH3_H)
    extrude(amount=BOSS_EXTRUDE2_2_DEPTH)


solid = Compound([part.part, body_2.part, body_3.part])
